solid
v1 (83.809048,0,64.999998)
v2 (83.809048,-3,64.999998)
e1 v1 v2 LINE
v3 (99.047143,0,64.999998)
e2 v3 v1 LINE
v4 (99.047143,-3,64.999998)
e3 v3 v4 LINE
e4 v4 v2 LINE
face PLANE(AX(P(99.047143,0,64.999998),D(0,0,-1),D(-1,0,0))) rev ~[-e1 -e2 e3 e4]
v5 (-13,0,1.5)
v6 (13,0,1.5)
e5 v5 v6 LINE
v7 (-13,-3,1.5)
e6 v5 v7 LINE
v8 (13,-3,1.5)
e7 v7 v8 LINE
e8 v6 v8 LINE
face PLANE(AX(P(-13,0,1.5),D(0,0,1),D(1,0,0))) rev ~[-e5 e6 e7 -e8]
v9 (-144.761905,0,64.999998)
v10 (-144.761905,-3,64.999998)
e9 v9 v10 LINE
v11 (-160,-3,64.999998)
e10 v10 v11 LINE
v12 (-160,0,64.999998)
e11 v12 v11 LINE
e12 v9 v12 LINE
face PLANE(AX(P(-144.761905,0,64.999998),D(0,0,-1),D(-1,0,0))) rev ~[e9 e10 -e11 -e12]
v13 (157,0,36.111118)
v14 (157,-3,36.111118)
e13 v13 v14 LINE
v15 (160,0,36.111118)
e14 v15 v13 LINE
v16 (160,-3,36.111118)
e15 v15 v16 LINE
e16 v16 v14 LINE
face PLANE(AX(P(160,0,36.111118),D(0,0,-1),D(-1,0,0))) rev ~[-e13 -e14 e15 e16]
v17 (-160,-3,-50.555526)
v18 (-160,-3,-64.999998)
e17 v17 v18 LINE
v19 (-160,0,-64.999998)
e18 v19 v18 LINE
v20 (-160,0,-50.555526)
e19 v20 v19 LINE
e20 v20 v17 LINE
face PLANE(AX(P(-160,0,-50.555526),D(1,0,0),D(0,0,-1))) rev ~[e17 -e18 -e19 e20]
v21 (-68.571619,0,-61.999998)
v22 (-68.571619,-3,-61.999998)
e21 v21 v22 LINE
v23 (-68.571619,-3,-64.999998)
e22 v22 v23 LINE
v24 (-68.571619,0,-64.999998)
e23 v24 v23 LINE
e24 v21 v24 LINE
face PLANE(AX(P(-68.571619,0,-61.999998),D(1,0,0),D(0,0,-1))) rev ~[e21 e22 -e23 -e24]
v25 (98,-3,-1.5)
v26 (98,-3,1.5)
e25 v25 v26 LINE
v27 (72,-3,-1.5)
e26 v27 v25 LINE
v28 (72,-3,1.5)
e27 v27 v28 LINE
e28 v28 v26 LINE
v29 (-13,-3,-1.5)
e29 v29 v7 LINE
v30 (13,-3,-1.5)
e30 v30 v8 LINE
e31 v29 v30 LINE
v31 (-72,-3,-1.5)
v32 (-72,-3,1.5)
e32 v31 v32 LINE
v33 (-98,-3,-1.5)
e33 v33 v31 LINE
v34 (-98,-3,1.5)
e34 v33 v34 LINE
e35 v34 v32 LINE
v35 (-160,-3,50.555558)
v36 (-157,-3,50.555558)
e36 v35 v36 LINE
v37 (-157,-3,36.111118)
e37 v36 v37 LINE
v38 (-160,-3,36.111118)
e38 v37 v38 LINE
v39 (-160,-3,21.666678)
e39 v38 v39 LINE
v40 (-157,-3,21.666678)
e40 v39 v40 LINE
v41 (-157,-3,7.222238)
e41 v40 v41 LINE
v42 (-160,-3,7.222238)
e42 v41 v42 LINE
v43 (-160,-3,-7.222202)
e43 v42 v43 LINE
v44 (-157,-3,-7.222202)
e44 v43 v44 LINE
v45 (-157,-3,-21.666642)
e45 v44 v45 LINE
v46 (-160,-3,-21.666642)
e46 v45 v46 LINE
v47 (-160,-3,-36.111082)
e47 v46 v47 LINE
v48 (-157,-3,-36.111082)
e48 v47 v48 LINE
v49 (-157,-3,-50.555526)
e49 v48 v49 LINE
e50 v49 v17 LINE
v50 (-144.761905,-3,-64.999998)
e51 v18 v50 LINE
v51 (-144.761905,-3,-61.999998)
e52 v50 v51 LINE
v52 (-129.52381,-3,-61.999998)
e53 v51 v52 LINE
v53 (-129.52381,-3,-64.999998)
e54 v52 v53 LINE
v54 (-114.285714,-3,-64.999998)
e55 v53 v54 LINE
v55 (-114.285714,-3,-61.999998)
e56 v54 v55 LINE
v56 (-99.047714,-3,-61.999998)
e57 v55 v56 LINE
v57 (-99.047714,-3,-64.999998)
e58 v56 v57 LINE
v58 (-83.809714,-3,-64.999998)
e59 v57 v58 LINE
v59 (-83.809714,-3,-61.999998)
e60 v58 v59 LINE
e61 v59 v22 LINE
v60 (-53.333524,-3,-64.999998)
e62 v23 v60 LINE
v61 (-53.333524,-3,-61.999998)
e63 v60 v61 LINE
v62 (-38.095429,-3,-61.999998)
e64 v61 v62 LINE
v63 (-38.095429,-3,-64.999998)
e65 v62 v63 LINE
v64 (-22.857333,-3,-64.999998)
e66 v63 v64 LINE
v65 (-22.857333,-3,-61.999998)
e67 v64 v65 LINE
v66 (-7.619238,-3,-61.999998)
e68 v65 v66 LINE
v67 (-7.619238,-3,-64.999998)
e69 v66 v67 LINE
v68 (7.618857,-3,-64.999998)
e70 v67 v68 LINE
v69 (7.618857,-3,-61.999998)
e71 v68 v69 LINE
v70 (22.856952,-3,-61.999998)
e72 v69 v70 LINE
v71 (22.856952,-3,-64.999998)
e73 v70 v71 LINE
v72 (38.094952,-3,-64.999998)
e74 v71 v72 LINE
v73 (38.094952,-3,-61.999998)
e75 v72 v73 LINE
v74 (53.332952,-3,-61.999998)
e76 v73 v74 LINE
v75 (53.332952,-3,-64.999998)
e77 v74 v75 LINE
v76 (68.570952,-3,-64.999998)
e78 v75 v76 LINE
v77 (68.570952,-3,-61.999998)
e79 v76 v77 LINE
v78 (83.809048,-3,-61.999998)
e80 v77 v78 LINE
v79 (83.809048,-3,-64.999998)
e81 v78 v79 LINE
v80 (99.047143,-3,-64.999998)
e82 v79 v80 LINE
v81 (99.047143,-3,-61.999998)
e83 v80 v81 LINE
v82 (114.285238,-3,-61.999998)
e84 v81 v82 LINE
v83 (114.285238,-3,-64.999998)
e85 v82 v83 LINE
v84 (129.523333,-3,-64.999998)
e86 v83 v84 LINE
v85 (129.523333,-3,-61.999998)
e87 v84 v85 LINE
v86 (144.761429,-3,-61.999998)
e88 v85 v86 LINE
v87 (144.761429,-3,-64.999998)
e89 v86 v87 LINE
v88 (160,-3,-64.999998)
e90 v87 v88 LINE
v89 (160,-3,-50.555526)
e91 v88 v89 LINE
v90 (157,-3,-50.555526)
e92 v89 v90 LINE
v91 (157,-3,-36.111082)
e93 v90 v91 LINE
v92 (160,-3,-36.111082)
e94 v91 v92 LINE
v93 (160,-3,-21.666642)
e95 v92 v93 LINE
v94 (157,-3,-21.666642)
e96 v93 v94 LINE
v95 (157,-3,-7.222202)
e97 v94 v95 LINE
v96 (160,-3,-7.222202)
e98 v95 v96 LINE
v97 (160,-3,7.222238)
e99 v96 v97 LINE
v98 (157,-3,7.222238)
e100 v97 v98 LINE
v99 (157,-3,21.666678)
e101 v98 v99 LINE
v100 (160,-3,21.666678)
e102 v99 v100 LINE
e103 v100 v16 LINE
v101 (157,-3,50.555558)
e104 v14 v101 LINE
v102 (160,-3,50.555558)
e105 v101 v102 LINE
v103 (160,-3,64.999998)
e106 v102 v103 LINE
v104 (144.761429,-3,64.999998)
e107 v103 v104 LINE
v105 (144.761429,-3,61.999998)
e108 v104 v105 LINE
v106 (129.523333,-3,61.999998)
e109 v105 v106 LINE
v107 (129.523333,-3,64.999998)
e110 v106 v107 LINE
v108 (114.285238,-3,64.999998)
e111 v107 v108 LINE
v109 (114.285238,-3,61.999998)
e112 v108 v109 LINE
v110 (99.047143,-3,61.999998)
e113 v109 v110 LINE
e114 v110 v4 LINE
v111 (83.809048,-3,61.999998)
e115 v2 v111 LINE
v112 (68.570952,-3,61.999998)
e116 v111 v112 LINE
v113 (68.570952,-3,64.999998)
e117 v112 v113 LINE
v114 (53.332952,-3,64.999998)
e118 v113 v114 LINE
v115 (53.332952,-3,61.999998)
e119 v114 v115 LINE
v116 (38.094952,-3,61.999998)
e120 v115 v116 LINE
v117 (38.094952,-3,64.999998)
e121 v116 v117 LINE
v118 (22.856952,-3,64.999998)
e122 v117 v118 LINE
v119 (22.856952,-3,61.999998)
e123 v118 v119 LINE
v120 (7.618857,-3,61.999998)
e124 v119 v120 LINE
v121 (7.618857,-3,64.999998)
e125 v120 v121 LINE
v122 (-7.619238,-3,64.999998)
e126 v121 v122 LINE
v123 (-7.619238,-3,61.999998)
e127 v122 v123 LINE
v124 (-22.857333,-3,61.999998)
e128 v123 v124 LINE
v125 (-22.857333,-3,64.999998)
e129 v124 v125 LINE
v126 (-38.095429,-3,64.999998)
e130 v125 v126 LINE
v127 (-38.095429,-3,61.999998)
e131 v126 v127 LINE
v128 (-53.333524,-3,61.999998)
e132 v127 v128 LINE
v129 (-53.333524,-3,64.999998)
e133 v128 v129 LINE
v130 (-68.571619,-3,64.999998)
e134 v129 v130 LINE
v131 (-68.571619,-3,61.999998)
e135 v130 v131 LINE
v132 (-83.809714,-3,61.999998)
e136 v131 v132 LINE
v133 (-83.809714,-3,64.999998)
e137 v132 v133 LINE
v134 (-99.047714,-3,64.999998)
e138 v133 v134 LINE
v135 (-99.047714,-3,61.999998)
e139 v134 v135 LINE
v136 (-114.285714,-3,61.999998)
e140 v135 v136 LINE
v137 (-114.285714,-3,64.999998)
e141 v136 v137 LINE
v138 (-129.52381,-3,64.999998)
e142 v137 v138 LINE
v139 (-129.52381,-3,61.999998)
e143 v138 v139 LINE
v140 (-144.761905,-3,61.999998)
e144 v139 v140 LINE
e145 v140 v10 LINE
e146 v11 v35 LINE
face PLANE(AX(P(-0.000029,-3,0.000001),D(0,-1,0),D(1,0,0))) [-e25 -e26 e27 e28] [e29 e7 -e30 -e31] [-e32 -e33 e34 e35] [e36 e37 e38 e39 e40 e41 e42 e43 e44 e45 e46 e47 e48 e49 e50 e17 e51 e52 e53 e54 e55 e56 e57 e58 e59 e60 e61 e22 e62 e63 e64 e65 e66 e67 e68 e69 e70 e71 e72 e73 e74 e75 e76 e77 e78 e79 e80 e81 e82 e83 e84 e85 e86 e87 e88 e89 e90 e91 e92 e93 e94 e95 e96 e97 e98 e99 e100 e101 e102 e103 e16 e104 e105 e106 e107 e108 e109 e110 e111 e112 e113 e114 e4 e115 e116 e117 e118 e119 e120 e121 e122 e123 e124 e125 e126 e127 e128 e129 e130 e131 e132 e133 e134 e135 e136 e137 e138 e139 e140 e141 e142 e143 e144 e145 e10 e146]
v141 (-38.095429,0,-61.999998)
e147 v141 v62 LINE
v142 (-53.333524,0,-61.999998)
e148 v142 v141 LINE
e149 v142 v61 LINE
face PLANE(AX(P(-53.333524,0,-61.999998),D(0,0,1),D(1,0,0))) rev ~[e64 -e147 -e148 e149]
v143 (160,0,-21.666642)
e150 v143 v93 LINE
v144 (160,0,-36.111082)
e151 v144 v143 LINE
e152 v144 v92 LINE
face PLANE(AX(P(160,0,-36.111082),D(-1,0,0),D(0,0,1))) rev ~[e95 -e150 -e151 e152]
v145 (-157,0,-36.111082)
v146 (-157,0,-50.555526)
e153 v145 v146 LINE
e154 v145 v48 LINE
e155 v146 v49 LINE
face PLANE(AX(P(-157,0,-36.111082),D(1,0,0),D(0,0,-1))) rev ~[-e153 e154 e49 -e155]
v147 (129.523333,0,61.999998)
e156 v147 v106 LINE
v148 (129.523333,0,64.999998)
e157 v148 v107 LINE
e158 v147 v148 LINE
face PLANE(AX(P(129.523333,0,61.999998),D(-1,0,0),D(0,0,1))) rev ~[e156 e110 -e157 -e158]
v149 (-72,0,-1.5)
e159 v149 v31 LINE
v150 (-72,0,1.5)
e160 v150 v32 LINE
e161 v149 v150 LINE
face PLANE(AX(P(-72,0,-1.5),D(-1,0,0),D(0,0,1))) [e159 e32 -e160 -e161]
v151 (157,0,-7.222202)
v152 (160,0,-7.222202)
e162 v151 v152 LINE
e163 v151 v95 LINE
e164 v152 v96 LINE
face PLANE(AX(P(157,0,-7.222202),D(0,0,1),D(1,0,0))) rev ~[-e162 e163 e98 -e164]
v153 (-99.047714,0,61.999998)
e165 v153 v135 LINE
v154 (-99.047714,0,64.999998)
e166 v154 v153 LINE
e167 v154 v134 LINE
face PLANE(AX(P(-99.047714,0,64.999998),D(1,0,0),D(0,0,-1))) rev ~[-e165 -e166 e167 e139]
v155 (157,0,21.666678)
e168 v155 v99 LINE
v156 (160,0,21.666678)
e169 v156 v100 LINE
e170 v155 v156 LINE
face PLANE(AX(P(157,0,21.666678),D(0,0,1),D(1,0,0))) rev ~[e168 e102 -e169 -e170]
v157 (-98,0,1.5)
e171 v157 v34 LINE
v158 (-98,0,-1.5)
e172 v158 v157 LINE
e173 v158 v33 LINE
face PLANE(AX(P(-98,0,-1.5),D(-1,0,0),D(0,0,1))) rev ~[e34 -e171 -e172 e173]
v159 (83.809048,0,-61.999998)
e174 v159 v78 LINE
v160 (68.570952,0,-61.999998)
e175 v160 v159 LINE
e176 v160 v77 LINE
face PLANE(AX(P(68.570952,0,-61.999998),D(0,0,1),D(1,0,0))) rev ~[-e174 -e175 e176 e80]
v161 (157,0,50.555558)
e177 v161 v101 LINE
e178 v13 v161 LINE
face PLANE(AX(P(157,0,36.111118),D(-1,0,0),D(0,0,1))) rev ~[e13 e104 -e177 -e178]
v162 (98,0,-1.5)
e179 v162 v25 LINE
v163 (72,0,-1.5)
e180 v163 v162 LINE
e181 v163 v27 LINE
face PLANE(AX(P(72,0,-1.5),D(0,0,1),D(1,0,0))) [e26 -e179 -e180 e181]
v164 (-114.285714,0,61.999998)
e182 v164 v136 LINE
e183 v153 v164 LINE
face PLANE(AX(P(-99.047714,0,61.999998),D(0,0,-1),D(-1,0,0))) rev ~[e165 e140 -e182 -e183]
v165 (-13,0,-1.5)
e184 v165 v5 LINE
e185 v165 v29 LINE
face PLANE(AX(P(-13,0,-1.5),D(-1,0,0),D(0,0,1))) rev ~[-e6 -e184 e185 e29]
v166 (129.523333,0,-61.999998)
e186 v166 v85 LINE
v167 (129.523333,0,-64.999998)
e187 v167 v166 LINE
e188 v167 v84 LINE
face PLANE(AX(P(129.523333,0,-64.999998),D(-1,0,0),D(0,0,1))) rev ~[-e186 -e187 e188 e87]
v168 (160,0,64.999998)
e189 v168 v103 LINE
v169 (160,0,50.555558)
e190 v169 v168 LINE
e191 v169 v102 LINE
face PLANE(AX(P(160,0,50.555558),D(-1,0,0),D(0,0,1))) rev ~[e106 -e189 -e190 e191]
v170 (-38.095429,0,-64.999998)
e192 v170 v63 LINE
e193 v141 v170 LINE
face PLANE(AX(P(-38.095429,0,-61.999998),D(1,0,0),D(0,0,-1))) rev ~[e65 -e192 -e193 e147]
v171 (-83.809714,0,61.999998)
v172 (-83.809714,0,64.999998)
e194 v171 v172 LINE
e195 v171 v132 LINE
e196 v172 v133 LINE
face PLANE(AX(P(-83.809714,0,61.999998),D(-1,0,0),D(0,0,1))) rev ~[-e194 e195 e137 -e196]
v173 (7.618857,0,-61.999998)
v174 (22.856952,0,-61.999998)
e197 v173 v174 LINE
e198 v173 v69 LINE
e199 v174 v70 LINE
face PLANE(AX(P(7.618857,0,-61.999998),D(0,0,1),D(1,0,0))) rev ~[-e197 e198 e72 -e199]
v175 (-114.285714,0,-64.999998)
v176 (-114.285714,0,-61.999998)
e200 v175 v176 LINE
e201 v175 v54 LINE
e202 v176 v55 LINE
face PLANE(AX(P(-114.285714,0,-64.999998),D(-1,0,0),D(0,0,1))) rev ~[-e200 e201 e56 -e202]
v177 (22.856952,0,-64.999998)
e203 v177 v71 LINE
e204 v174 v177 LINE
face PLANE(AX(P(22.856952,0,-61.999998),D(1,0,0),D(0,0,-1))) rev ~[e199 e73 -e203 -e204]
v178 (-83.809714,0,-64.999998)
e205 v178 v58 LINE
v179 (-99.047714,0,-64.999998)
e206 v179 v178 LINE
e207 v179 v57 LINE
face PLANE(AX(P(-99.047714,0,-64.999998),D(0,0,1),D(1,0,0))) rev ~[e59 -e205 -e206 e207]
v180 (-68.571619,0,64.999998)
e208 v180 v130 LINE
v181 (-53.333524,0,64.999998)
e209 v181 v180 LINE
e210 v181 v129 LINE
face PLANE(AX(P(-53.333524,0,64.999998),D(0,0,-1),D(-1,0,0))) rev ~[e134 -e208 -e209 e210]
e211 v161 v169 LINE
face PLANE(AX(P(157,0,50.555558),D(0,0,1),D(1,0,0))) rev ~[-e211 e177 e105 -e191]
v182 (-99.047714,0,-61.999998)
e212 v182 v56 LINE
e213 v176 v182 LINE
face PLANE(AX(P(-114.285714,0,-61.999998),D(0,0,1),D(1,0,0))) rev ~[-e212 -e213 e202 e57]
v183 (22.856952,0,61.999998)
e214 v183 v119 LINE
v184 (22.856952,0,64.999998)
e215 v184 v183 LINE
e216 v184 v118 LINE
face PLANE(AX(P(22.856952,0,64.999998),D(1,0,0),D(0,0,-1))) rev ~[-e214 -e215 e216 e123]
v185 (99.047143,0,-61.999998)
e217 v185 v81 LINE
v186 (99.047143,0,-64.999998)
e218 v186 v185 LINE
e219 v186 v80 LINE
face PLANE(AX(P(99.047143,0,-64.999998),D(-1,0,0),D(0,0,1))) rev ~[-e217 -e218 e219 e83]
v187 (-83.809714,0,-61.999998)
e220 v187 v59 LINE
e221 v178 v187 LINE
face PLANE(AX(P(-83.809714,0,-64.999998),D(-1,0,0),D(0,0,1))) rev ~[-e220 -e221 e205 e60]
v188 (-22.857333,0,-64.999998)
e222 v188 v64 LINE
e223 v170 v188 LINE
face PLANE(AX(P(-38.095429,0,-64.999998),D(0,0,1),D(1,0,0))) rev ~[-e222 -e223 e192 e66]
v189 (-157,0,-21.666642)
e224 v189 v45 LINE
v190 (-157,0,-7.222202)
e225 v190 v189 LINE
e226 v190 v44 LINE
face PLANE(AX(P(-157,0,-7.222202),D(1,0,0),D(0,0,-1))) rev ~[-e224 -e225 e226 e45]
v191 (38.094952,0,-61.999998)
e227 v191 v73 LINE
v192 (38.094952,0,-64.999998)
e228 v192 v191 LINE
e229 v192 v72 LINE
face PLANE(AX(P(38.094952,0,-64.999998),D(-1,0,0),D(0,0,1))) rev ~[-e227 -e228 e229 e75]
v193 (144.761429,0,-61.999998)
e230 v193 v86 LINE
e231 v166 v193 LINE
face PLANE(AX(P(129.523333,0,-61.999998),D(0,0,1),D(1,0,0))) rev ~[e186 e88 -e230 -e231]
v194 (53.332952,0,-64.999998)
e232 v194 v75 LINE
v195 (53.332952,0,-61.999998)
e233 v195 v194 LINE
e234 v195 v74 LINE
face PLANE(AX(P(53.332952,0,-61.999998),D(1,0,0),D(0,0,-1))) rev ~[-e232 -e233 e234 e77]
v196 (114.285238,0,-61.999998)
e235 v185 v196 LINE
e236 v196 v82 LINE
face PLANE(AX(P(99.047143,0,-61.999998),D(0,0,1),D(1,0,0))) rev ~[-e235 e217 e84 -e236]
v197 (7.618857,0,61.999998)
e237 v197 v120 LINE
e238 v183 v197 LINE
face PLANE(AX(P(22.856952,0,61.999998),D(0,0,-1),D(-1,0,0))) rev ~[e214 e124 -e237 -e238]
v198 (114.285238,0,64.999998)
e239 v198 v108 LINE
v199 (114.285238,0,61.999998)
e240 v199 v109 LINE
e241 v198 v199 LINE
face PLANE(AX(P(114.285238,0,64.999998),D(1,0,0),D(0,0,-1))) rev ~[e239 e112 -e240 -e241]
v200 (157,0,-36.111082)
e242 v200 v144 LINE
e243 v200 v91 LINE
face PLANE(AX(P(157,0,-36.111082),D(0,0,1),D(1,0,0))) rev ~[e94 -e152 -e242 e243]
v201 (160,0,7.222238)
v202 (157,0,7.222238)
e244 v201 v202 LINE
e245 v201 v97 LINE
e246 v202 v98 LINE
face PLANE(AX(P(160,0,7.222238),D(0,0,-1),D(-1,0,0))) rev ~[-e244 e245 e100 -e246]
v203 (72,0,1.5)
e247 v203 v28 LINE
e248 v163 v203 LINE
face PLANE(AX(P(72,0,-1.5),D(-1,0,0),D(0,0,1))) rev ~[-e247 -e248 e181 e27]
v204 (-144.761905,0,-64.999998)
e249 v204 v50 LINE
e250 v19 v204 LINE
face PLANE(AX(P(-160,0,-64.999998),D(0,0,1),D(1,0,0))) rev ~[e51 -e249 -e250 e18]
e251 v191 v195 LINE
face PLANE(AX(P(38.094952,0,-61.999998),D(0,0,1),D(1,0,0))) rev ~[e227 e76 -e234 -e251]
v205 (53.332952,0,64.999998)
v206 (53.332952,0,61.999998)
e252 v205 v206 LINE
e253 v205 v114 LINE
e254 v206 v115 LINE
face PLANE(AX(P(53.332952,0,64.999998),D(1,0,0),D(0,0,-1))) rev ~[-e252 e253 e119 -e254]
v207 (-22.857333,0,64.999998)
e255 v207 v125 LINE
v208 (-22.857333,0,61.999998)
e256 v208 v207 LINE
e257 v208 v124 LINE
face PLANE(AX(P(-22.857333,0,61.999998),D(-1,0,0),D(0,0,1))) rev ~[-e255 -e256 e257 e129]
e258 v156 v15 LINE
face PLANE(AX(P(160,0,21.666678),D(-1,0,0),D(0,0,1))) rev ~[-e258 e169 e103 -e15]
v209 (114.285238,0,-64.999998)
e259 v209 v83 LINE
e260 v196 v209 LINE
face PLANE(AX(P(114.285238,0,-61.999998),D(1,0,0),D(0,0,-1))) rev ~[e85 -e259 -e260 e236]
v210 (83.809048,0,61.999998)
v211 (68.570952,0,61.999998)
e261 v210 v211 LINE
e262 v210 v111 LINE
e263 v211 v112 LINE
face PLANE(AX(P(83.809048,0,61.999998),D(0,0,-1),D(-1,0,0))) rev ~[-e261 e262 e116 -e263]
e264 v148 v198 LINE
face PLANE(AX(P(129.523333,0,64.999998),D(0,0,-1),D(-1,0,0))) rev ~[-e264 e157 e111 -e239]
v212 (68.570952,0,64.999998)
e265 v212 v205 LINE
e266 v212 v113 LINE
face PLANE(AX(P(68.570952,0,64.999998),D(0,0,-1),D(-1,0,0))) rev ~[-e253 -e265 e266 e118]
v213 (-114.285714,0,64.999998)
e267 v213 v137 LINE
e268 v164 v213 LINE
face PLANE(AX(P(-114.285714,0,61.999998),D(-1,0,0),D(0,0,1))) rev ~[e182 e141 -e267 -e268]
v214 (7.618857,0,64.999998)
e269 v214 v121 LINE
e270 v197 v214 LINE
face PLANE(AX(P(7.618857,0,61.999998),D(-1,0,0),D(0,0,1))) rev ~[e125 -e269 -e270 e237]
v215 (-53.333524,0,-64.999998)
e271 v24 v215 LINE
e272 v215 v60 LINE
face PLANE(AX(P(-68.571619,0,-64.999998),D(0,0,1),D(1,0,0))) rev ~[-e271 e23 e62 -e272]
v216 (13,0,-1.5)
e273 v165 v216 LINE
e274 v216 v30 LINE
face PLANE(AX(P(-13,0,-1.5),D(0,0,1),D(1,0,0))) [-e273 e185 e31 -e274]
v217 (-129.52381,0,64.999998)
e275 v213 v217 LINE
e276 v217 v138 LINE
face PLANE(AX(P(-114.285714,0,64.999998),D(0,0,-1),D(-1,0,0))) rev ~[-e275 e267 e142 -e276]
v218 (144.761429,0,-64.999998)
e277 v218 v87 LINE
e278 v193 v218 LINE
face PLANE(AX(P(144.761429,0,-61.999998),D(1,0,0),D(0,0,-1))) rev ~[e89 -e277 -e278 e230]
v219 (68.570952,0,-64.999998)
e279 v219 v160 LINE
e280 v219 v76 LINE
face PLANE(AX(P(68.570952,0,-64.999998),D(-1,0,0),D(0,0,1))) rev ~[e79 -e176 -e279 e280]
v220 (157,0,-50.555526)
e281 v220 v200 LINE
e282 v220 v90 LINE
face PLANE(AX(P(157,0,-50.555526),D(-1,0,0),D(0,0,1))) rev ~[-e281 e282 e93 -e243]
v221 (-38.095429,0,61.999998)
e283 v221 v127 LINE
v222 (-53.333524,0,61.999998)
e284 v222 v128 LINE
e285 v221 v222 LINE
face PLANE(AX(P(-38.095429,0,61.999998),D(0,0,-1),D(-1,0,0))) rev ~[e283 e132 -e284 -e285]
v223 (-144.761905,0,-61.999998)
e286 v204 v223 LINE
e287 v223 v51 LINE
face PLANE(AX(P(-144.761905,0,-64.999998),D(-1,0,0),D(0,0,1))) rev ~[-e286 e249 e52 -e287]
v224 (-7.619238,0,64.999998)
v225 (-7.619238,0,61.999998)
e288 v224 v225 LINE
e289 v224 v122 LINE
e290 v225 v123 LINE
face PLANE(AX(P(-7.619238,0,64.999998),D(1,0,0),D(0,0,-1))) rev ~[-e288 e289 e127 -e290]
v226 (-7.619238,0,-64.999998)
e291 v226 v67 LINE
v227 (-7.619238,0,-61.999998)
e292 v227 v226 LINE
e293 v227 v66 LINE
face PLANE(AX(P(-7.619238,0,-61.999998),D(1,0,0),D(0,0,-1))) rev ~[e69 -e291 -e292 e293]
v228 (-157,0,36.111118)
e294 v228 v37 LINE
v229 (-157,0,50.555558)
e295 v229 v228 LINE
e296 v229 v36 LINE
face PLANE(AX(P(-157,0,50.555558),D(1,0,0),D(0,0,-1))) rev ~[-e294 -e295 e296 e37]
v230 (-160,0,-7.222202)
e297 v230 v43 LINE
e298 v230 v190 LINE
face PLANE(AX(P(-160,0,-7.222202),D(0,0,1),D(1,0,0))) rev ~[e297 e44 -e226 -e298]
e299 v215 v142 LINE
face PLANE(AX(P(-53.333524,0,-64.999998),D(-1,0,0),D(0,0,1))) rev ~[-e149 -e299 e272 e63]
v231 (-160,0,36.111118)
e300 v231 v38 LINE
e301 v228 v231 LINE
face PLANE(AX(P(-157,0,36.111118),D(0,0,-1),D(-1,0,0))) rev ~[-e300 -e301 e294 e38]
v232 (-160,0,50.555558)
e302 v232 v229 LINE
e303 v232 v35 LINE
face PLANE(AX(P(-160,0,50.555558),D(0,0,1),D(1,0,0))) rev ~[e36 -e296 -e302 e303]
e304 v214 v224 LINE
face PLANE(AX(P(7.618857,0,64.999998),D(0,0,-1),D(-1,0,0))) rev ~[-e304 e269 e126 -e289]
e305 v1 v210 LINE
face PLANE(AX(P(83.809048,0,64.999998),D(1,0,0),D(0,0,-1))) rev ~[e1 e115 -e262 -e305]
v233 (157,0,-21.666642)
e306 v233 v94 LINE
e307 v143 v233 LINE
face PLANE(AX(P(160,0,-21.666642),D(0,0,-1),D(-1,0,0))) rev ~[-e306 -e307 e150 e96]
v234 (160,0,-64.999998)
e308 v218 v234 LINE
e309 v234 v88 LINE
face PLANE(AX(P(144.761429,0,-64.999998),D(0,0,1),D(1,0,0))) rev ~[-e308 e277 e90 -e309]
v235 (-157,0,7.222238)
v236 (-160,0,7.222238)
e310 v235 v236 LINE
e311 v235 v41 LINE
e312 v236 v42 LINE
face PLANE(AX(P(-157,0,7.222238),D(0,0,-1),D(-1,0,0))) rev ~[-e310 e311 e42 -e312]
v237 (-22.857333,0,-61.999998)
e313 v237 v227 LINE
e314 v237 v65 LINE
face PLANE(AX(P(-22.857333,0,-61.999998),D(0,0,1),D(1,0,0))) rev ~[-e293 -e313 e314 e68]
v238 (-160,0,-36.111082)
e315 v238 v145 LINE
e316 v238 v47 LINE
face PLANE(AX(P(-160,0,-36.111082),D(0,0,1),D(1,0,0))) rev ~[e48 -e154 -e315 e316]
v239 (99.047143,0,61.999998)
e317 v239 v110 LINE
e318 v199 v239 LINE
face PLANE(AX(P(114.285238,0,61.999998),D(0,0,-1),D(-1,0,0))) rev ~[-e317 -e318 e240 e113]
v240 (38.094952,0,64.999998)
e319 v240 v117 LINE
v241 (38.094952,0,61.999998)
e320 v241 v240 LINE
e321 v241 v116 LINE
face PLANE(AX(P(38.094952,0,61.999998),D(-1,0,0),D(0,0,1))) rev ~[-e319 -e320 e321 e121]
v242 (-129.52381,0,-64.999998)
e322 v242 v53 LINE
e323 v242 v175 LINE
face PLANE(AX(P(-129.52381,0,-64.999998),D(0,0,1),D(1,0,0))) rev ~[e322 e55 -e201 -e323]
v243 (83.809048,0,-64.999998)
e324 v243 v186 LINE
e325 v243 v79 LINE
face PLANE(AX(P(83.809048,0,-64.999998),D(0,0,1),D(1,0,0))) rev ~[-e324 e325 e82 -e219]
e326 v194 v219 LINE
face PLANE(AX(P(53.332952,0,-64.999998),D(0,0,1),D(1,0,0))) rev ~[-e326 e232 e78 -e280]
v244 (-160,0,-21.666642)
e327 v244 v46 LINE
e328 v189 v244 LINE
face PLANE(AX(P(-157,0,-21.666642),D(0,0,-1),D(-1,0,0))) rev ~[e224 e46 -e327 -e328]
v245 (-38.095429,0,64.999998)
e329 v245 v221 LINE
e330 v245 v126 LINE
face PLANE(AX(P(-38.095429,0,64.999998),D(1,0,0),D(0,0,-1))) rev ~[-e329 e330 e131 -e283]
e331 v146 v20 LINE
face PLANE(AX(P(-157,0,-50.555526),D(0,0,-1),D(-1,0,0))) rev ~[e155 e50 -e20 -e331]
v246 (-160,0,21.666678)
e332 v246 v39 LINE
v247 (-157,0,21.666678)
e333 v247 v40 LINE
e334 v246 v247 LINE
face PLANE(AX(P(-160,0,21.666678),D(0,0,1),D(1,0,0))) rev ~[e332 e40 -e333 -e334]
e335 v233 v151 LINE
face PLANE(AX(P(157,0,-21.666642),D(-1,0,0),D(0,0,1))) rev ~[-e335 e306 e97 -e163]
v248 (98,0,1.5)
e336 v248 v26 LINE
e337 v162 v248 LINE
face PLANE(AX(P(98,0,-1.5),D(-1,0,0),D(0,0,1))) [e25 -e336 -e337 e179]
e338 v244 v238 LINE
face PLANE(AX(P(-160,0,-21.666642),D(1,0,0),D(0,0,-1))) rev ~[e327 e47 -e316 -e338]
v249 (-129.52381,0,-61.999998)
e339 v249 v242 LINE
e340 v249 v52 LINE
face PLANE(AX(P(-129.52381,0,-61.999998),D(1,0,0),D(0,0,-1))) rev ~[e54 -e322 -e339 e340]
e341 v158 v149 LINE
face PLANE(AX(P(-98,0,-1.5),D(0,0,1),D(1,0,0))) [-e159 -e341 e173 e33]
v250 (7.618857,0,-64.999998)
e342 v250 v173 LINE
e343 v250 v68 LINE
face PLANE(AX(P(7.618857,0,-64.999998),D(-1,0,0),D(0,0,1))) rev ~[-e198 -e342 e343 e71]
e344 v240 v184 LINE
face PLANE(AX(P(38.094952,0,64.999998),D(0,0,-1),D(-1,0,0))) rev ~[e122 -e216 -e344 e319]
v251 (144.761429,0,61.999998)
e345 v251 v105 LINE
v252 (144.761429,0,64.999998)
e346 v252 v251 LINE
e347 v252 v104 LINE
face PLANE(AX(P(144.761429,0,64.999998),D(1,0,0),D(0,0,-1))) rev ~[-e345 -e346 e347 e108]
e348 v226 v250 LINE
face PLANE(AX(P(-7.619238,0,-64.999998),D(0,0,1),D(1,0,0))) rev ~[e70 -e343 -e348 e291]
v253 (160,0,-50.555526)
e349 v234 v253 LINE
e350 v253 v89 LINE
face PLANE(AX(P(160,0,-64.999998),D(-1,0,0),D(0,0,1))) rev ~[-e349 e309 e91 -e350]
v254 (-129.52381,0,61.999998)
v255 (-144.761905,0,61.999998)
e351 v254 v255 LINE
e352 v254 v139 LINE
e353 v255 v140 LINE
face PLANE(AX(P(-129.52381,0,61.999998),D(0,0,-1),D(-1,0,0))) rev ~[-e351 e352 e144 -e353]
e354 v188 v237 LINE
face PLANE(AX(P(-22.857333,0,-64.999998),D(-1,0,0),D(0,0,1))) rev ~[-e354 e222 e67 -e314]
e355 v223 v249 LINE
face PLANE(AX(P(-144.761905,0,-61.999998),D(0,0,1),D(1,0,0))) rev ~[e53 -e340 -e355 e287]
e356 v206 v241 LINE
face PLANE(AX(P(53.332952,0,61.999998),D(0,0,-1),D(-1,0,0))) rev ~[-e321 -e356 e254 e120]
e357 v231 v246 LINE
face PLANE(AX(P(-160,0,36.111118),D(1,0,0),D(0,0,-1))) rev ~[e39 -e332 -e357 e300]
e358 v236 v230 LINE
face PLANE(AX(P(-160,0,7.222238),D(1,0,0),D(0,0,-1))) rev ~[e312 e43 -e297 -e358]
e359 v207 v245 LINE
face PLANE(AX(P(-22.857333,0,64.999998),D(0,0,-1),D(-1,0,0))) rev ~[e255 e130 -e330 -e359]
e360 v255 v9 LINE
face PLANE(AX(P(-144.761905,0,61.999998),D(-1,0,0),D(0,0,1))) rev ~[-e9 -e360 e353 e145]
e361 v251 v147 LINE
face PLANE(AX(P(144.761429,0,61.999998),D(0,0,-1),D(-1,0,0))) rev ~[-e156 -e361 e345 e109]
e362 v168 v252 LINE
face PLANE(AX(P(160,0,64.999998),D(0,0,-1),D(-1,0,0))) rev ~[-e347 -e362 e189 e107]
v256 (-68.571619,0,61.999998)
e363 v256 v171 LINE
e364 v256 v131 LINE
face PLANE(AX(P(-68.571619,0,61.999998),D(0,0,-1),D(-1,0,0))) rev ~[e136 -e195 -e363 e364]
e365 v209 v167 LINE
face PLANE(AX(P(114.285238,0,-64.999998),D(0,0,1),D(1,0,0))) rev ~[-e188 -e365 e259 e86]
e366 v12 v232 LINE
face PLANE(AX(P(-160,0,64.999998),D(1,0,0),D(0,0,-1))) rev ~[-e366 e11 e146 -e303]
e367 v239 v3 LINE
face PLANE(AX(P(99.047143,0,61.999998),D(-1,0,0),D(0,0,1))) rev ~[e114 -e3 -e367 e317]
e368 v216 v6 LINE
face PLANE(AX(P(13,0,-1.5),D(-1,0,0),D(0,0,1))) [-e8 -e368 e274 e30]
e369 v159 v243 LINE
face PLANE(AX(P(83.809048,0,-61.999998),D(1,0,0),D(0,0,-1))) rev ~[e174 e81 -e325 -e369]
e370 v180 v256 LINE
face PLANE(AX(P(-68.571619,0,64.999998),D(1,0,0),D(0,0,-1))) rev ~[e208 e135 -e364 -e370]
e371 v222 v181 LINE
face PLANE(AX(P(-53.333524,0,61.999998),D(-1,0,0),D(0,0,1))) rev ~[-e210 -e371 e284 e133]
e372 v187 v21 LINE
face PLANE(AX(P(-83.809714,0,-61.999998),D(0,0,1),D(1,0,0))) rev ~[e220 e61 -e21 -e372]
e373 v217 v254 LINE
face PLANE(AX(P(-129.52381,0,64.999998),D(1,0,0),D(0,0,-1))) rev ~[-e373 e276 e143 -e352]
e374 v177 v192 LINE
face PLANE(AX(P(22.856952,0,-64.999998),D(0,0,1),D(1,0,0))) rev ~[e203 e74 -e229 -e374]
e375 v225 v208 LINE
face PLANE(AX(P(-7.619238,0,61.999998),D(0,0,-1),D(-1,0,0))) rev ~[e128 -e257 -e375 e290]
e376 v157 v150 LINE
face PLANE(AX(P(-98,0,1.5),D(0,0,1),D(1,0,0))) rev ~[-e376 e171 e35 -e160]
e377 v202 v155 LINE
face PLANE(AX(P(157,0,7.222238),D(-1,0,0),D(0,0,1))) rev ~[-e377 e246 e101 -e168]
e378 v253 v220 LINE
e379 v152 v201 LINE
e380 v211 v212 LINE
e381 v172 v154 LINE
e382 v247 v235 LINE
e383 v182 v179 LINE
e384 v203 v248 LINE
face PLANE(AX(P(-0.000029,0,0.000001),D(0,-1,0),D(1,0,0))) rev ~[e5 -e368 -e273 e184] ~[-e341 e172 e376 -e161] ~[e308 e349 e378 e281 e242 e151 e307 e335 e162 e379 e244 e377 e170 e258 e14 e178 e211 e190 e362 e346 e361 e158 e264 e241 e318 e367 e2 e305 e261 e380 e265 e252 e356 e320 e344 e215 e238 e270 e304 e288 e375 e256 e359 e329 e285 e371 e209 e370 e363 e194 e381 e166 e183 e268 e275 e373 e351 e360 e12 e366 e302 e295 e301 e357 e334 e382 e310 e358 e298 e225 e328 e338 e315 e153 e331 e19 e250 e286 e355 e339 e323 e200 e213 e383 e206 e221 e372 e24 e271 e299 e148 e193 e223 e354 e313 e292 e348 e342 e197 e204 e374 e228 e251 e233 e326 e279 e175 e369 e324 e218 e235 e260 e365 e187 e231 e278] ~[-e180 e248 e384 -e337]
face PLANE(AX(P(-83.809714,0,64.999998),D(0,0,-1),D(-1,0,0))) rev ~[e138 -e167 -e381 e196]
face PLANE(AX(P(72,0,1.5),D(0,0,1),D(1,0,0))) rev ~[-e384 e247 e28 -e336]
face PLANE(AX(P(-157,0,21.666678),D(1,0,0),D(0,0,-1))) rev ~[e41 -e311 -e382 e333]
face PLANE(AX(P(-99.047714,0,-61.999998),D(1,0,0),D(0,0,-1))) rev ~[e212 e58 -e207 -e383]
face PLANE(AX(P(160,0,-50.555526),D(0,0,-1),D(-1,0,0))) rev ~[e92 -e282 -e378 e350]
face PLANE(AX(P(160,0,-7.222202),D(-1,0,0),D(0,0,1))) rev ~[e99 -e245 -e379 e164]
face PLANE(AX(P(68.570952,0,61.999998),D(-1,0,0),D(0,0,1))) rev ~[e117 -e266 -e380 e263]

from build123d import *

# Parameters (mm, degrees)
F0_W     = 26
F0_H     = 3
F1_DEPTH = 3


with BuildPart() as f1:
    # F0 (on Front) → F1 (new body)
    with BuildSketch(Plane.XZ):
        Polygon((160, 61.999998), (160, 64.999998), (144.761429, 64.999998), (144.761429, 61.999998), (129.523333, 61.999998), (129.523333, 64.999998), (114.285238, 64.999998), (114.285238, 61.999998), (99.047143, 61.999998), (99.047143, 64.999998), (83.809048, 64.999998), (83.809048, 61.999998), (68.570952, 61.999998), (68.570952, 64.999998), (53.332952, 64.999998), (53.332952, 61.999998), (38.094952, 61.999998), (38.094952, 64.999998), (22.856952, 64.999998), (22.856952, 61.999998), (7.618857, 61.999998), (7.618857, 64.999998), (-7.619238, 64.999998), (-7.619238, 61.999998), (-22.857333, 61.999998), (-22.857333, 64.999998), (-38.095429, 64.999998), (-38.095429, 61.999998), (-53.333524, 61.999998), (-53.333524, 64.999998), (-68.571619, 64.999998), (-68.571619, 61.999998), (-83.809714, 61.999998), (-83.809714, 64.999998), (-99.047714, 64.999998), (-99.047714, 61.999998), (-114.285714, 61.999998), (-114.285714, 64.999998), (-129.52381, 64.999998), (-129.52381, 61.999998), (-144.761905, 61.999998), (-144.761905, 64.999998), (-160, 64.999998), (-160, 50.555558), (-157, 50.555558), (-157, 36.111118), (-160, 36.111118), (-160, 21.666678), (-157, 21.666678), (-157, 7.222238), (-160, 7.222238), (-160, 1.5), (-160, -1.5), (-160, -7.222202), (-157, -7.222202), (-157, -21.666642), (-160, -21.666642), (-160, -36.111082), (-157, -36.111082), (-157, -50.555526), (-160, -50.555526), (-160, -64.999998), (-144.761905, -64.999998), (-144.761905, -61.999998), (-129.52381, -61.999998), (-129.52381, -64.999998), (-114.285714, -64.999998), (-114.285714, -61.999998), (-99.047714, -61.999998), (-99.047714, -64.999998), (-83.809714, -64.999998), (-83.809714, -61.999998), (-68.571619, -61.999998), (-68.571619, -64.999998), (-53.333524, -64.999998), (-53.333524, -61.999998), (-38.095429, -61.999998), (-38.095429, -64.999998), (-22.857333, -64.999998), (-22.857333, -61.999998), (-7.619238, -61.999998), (-7.619238, -64.999998), (7.618857, -64.999998), (7.618857, -61.999998), (22.856952, -61.999998), (22.856952, -64.999998), (38.094952, -64.999998), (38.094952, -61.999998), (53.332952, -61.999998), (53.332952, -64.999998), (68.570952, -64.999998), (68.570952, -61.999998), (83.809048, -61.999998), (83.809048, -64.999998), (99.047143, -64.999998), (99.047143, -61.999998), (114.285238, -61.999998), (114.285238, -64.999998), (129.523333, -64.999998), (129.523333, -61.999998), (144.761429, -61.999998), (144.761429, -64.999998), (160, -64.999998), (160, -61.999998), (160, -50.555526), (157, -50.555526), (157, -36.111082), (160, -36.111082), (160, -21.666642), (157, -21.666642), (157, -7.222202), (160, -7.222202), (160, -1.5), (160, 1.5), (160, 7.222238), (157, 7.222238), (157, 21.666678), (160, 21.666678), (160, 36.111118), (157, 36.111118), (157, 50.555558), (160, 50.555558), align=None)
        with Locations((-85, 0)):
            Rectangle(F0_W, F0_H, mode=Mode.SUBTRACT)
        Rectangle(F0_W, F0_H, mode=Mode.SUBTRACT)
        with Locations((85, 0)):
            Rectangle(F0_W, F0_H, mode=Mode.SUBTRACT)
    extrude(amount=F1_DEPTH)


solid = f1.part
